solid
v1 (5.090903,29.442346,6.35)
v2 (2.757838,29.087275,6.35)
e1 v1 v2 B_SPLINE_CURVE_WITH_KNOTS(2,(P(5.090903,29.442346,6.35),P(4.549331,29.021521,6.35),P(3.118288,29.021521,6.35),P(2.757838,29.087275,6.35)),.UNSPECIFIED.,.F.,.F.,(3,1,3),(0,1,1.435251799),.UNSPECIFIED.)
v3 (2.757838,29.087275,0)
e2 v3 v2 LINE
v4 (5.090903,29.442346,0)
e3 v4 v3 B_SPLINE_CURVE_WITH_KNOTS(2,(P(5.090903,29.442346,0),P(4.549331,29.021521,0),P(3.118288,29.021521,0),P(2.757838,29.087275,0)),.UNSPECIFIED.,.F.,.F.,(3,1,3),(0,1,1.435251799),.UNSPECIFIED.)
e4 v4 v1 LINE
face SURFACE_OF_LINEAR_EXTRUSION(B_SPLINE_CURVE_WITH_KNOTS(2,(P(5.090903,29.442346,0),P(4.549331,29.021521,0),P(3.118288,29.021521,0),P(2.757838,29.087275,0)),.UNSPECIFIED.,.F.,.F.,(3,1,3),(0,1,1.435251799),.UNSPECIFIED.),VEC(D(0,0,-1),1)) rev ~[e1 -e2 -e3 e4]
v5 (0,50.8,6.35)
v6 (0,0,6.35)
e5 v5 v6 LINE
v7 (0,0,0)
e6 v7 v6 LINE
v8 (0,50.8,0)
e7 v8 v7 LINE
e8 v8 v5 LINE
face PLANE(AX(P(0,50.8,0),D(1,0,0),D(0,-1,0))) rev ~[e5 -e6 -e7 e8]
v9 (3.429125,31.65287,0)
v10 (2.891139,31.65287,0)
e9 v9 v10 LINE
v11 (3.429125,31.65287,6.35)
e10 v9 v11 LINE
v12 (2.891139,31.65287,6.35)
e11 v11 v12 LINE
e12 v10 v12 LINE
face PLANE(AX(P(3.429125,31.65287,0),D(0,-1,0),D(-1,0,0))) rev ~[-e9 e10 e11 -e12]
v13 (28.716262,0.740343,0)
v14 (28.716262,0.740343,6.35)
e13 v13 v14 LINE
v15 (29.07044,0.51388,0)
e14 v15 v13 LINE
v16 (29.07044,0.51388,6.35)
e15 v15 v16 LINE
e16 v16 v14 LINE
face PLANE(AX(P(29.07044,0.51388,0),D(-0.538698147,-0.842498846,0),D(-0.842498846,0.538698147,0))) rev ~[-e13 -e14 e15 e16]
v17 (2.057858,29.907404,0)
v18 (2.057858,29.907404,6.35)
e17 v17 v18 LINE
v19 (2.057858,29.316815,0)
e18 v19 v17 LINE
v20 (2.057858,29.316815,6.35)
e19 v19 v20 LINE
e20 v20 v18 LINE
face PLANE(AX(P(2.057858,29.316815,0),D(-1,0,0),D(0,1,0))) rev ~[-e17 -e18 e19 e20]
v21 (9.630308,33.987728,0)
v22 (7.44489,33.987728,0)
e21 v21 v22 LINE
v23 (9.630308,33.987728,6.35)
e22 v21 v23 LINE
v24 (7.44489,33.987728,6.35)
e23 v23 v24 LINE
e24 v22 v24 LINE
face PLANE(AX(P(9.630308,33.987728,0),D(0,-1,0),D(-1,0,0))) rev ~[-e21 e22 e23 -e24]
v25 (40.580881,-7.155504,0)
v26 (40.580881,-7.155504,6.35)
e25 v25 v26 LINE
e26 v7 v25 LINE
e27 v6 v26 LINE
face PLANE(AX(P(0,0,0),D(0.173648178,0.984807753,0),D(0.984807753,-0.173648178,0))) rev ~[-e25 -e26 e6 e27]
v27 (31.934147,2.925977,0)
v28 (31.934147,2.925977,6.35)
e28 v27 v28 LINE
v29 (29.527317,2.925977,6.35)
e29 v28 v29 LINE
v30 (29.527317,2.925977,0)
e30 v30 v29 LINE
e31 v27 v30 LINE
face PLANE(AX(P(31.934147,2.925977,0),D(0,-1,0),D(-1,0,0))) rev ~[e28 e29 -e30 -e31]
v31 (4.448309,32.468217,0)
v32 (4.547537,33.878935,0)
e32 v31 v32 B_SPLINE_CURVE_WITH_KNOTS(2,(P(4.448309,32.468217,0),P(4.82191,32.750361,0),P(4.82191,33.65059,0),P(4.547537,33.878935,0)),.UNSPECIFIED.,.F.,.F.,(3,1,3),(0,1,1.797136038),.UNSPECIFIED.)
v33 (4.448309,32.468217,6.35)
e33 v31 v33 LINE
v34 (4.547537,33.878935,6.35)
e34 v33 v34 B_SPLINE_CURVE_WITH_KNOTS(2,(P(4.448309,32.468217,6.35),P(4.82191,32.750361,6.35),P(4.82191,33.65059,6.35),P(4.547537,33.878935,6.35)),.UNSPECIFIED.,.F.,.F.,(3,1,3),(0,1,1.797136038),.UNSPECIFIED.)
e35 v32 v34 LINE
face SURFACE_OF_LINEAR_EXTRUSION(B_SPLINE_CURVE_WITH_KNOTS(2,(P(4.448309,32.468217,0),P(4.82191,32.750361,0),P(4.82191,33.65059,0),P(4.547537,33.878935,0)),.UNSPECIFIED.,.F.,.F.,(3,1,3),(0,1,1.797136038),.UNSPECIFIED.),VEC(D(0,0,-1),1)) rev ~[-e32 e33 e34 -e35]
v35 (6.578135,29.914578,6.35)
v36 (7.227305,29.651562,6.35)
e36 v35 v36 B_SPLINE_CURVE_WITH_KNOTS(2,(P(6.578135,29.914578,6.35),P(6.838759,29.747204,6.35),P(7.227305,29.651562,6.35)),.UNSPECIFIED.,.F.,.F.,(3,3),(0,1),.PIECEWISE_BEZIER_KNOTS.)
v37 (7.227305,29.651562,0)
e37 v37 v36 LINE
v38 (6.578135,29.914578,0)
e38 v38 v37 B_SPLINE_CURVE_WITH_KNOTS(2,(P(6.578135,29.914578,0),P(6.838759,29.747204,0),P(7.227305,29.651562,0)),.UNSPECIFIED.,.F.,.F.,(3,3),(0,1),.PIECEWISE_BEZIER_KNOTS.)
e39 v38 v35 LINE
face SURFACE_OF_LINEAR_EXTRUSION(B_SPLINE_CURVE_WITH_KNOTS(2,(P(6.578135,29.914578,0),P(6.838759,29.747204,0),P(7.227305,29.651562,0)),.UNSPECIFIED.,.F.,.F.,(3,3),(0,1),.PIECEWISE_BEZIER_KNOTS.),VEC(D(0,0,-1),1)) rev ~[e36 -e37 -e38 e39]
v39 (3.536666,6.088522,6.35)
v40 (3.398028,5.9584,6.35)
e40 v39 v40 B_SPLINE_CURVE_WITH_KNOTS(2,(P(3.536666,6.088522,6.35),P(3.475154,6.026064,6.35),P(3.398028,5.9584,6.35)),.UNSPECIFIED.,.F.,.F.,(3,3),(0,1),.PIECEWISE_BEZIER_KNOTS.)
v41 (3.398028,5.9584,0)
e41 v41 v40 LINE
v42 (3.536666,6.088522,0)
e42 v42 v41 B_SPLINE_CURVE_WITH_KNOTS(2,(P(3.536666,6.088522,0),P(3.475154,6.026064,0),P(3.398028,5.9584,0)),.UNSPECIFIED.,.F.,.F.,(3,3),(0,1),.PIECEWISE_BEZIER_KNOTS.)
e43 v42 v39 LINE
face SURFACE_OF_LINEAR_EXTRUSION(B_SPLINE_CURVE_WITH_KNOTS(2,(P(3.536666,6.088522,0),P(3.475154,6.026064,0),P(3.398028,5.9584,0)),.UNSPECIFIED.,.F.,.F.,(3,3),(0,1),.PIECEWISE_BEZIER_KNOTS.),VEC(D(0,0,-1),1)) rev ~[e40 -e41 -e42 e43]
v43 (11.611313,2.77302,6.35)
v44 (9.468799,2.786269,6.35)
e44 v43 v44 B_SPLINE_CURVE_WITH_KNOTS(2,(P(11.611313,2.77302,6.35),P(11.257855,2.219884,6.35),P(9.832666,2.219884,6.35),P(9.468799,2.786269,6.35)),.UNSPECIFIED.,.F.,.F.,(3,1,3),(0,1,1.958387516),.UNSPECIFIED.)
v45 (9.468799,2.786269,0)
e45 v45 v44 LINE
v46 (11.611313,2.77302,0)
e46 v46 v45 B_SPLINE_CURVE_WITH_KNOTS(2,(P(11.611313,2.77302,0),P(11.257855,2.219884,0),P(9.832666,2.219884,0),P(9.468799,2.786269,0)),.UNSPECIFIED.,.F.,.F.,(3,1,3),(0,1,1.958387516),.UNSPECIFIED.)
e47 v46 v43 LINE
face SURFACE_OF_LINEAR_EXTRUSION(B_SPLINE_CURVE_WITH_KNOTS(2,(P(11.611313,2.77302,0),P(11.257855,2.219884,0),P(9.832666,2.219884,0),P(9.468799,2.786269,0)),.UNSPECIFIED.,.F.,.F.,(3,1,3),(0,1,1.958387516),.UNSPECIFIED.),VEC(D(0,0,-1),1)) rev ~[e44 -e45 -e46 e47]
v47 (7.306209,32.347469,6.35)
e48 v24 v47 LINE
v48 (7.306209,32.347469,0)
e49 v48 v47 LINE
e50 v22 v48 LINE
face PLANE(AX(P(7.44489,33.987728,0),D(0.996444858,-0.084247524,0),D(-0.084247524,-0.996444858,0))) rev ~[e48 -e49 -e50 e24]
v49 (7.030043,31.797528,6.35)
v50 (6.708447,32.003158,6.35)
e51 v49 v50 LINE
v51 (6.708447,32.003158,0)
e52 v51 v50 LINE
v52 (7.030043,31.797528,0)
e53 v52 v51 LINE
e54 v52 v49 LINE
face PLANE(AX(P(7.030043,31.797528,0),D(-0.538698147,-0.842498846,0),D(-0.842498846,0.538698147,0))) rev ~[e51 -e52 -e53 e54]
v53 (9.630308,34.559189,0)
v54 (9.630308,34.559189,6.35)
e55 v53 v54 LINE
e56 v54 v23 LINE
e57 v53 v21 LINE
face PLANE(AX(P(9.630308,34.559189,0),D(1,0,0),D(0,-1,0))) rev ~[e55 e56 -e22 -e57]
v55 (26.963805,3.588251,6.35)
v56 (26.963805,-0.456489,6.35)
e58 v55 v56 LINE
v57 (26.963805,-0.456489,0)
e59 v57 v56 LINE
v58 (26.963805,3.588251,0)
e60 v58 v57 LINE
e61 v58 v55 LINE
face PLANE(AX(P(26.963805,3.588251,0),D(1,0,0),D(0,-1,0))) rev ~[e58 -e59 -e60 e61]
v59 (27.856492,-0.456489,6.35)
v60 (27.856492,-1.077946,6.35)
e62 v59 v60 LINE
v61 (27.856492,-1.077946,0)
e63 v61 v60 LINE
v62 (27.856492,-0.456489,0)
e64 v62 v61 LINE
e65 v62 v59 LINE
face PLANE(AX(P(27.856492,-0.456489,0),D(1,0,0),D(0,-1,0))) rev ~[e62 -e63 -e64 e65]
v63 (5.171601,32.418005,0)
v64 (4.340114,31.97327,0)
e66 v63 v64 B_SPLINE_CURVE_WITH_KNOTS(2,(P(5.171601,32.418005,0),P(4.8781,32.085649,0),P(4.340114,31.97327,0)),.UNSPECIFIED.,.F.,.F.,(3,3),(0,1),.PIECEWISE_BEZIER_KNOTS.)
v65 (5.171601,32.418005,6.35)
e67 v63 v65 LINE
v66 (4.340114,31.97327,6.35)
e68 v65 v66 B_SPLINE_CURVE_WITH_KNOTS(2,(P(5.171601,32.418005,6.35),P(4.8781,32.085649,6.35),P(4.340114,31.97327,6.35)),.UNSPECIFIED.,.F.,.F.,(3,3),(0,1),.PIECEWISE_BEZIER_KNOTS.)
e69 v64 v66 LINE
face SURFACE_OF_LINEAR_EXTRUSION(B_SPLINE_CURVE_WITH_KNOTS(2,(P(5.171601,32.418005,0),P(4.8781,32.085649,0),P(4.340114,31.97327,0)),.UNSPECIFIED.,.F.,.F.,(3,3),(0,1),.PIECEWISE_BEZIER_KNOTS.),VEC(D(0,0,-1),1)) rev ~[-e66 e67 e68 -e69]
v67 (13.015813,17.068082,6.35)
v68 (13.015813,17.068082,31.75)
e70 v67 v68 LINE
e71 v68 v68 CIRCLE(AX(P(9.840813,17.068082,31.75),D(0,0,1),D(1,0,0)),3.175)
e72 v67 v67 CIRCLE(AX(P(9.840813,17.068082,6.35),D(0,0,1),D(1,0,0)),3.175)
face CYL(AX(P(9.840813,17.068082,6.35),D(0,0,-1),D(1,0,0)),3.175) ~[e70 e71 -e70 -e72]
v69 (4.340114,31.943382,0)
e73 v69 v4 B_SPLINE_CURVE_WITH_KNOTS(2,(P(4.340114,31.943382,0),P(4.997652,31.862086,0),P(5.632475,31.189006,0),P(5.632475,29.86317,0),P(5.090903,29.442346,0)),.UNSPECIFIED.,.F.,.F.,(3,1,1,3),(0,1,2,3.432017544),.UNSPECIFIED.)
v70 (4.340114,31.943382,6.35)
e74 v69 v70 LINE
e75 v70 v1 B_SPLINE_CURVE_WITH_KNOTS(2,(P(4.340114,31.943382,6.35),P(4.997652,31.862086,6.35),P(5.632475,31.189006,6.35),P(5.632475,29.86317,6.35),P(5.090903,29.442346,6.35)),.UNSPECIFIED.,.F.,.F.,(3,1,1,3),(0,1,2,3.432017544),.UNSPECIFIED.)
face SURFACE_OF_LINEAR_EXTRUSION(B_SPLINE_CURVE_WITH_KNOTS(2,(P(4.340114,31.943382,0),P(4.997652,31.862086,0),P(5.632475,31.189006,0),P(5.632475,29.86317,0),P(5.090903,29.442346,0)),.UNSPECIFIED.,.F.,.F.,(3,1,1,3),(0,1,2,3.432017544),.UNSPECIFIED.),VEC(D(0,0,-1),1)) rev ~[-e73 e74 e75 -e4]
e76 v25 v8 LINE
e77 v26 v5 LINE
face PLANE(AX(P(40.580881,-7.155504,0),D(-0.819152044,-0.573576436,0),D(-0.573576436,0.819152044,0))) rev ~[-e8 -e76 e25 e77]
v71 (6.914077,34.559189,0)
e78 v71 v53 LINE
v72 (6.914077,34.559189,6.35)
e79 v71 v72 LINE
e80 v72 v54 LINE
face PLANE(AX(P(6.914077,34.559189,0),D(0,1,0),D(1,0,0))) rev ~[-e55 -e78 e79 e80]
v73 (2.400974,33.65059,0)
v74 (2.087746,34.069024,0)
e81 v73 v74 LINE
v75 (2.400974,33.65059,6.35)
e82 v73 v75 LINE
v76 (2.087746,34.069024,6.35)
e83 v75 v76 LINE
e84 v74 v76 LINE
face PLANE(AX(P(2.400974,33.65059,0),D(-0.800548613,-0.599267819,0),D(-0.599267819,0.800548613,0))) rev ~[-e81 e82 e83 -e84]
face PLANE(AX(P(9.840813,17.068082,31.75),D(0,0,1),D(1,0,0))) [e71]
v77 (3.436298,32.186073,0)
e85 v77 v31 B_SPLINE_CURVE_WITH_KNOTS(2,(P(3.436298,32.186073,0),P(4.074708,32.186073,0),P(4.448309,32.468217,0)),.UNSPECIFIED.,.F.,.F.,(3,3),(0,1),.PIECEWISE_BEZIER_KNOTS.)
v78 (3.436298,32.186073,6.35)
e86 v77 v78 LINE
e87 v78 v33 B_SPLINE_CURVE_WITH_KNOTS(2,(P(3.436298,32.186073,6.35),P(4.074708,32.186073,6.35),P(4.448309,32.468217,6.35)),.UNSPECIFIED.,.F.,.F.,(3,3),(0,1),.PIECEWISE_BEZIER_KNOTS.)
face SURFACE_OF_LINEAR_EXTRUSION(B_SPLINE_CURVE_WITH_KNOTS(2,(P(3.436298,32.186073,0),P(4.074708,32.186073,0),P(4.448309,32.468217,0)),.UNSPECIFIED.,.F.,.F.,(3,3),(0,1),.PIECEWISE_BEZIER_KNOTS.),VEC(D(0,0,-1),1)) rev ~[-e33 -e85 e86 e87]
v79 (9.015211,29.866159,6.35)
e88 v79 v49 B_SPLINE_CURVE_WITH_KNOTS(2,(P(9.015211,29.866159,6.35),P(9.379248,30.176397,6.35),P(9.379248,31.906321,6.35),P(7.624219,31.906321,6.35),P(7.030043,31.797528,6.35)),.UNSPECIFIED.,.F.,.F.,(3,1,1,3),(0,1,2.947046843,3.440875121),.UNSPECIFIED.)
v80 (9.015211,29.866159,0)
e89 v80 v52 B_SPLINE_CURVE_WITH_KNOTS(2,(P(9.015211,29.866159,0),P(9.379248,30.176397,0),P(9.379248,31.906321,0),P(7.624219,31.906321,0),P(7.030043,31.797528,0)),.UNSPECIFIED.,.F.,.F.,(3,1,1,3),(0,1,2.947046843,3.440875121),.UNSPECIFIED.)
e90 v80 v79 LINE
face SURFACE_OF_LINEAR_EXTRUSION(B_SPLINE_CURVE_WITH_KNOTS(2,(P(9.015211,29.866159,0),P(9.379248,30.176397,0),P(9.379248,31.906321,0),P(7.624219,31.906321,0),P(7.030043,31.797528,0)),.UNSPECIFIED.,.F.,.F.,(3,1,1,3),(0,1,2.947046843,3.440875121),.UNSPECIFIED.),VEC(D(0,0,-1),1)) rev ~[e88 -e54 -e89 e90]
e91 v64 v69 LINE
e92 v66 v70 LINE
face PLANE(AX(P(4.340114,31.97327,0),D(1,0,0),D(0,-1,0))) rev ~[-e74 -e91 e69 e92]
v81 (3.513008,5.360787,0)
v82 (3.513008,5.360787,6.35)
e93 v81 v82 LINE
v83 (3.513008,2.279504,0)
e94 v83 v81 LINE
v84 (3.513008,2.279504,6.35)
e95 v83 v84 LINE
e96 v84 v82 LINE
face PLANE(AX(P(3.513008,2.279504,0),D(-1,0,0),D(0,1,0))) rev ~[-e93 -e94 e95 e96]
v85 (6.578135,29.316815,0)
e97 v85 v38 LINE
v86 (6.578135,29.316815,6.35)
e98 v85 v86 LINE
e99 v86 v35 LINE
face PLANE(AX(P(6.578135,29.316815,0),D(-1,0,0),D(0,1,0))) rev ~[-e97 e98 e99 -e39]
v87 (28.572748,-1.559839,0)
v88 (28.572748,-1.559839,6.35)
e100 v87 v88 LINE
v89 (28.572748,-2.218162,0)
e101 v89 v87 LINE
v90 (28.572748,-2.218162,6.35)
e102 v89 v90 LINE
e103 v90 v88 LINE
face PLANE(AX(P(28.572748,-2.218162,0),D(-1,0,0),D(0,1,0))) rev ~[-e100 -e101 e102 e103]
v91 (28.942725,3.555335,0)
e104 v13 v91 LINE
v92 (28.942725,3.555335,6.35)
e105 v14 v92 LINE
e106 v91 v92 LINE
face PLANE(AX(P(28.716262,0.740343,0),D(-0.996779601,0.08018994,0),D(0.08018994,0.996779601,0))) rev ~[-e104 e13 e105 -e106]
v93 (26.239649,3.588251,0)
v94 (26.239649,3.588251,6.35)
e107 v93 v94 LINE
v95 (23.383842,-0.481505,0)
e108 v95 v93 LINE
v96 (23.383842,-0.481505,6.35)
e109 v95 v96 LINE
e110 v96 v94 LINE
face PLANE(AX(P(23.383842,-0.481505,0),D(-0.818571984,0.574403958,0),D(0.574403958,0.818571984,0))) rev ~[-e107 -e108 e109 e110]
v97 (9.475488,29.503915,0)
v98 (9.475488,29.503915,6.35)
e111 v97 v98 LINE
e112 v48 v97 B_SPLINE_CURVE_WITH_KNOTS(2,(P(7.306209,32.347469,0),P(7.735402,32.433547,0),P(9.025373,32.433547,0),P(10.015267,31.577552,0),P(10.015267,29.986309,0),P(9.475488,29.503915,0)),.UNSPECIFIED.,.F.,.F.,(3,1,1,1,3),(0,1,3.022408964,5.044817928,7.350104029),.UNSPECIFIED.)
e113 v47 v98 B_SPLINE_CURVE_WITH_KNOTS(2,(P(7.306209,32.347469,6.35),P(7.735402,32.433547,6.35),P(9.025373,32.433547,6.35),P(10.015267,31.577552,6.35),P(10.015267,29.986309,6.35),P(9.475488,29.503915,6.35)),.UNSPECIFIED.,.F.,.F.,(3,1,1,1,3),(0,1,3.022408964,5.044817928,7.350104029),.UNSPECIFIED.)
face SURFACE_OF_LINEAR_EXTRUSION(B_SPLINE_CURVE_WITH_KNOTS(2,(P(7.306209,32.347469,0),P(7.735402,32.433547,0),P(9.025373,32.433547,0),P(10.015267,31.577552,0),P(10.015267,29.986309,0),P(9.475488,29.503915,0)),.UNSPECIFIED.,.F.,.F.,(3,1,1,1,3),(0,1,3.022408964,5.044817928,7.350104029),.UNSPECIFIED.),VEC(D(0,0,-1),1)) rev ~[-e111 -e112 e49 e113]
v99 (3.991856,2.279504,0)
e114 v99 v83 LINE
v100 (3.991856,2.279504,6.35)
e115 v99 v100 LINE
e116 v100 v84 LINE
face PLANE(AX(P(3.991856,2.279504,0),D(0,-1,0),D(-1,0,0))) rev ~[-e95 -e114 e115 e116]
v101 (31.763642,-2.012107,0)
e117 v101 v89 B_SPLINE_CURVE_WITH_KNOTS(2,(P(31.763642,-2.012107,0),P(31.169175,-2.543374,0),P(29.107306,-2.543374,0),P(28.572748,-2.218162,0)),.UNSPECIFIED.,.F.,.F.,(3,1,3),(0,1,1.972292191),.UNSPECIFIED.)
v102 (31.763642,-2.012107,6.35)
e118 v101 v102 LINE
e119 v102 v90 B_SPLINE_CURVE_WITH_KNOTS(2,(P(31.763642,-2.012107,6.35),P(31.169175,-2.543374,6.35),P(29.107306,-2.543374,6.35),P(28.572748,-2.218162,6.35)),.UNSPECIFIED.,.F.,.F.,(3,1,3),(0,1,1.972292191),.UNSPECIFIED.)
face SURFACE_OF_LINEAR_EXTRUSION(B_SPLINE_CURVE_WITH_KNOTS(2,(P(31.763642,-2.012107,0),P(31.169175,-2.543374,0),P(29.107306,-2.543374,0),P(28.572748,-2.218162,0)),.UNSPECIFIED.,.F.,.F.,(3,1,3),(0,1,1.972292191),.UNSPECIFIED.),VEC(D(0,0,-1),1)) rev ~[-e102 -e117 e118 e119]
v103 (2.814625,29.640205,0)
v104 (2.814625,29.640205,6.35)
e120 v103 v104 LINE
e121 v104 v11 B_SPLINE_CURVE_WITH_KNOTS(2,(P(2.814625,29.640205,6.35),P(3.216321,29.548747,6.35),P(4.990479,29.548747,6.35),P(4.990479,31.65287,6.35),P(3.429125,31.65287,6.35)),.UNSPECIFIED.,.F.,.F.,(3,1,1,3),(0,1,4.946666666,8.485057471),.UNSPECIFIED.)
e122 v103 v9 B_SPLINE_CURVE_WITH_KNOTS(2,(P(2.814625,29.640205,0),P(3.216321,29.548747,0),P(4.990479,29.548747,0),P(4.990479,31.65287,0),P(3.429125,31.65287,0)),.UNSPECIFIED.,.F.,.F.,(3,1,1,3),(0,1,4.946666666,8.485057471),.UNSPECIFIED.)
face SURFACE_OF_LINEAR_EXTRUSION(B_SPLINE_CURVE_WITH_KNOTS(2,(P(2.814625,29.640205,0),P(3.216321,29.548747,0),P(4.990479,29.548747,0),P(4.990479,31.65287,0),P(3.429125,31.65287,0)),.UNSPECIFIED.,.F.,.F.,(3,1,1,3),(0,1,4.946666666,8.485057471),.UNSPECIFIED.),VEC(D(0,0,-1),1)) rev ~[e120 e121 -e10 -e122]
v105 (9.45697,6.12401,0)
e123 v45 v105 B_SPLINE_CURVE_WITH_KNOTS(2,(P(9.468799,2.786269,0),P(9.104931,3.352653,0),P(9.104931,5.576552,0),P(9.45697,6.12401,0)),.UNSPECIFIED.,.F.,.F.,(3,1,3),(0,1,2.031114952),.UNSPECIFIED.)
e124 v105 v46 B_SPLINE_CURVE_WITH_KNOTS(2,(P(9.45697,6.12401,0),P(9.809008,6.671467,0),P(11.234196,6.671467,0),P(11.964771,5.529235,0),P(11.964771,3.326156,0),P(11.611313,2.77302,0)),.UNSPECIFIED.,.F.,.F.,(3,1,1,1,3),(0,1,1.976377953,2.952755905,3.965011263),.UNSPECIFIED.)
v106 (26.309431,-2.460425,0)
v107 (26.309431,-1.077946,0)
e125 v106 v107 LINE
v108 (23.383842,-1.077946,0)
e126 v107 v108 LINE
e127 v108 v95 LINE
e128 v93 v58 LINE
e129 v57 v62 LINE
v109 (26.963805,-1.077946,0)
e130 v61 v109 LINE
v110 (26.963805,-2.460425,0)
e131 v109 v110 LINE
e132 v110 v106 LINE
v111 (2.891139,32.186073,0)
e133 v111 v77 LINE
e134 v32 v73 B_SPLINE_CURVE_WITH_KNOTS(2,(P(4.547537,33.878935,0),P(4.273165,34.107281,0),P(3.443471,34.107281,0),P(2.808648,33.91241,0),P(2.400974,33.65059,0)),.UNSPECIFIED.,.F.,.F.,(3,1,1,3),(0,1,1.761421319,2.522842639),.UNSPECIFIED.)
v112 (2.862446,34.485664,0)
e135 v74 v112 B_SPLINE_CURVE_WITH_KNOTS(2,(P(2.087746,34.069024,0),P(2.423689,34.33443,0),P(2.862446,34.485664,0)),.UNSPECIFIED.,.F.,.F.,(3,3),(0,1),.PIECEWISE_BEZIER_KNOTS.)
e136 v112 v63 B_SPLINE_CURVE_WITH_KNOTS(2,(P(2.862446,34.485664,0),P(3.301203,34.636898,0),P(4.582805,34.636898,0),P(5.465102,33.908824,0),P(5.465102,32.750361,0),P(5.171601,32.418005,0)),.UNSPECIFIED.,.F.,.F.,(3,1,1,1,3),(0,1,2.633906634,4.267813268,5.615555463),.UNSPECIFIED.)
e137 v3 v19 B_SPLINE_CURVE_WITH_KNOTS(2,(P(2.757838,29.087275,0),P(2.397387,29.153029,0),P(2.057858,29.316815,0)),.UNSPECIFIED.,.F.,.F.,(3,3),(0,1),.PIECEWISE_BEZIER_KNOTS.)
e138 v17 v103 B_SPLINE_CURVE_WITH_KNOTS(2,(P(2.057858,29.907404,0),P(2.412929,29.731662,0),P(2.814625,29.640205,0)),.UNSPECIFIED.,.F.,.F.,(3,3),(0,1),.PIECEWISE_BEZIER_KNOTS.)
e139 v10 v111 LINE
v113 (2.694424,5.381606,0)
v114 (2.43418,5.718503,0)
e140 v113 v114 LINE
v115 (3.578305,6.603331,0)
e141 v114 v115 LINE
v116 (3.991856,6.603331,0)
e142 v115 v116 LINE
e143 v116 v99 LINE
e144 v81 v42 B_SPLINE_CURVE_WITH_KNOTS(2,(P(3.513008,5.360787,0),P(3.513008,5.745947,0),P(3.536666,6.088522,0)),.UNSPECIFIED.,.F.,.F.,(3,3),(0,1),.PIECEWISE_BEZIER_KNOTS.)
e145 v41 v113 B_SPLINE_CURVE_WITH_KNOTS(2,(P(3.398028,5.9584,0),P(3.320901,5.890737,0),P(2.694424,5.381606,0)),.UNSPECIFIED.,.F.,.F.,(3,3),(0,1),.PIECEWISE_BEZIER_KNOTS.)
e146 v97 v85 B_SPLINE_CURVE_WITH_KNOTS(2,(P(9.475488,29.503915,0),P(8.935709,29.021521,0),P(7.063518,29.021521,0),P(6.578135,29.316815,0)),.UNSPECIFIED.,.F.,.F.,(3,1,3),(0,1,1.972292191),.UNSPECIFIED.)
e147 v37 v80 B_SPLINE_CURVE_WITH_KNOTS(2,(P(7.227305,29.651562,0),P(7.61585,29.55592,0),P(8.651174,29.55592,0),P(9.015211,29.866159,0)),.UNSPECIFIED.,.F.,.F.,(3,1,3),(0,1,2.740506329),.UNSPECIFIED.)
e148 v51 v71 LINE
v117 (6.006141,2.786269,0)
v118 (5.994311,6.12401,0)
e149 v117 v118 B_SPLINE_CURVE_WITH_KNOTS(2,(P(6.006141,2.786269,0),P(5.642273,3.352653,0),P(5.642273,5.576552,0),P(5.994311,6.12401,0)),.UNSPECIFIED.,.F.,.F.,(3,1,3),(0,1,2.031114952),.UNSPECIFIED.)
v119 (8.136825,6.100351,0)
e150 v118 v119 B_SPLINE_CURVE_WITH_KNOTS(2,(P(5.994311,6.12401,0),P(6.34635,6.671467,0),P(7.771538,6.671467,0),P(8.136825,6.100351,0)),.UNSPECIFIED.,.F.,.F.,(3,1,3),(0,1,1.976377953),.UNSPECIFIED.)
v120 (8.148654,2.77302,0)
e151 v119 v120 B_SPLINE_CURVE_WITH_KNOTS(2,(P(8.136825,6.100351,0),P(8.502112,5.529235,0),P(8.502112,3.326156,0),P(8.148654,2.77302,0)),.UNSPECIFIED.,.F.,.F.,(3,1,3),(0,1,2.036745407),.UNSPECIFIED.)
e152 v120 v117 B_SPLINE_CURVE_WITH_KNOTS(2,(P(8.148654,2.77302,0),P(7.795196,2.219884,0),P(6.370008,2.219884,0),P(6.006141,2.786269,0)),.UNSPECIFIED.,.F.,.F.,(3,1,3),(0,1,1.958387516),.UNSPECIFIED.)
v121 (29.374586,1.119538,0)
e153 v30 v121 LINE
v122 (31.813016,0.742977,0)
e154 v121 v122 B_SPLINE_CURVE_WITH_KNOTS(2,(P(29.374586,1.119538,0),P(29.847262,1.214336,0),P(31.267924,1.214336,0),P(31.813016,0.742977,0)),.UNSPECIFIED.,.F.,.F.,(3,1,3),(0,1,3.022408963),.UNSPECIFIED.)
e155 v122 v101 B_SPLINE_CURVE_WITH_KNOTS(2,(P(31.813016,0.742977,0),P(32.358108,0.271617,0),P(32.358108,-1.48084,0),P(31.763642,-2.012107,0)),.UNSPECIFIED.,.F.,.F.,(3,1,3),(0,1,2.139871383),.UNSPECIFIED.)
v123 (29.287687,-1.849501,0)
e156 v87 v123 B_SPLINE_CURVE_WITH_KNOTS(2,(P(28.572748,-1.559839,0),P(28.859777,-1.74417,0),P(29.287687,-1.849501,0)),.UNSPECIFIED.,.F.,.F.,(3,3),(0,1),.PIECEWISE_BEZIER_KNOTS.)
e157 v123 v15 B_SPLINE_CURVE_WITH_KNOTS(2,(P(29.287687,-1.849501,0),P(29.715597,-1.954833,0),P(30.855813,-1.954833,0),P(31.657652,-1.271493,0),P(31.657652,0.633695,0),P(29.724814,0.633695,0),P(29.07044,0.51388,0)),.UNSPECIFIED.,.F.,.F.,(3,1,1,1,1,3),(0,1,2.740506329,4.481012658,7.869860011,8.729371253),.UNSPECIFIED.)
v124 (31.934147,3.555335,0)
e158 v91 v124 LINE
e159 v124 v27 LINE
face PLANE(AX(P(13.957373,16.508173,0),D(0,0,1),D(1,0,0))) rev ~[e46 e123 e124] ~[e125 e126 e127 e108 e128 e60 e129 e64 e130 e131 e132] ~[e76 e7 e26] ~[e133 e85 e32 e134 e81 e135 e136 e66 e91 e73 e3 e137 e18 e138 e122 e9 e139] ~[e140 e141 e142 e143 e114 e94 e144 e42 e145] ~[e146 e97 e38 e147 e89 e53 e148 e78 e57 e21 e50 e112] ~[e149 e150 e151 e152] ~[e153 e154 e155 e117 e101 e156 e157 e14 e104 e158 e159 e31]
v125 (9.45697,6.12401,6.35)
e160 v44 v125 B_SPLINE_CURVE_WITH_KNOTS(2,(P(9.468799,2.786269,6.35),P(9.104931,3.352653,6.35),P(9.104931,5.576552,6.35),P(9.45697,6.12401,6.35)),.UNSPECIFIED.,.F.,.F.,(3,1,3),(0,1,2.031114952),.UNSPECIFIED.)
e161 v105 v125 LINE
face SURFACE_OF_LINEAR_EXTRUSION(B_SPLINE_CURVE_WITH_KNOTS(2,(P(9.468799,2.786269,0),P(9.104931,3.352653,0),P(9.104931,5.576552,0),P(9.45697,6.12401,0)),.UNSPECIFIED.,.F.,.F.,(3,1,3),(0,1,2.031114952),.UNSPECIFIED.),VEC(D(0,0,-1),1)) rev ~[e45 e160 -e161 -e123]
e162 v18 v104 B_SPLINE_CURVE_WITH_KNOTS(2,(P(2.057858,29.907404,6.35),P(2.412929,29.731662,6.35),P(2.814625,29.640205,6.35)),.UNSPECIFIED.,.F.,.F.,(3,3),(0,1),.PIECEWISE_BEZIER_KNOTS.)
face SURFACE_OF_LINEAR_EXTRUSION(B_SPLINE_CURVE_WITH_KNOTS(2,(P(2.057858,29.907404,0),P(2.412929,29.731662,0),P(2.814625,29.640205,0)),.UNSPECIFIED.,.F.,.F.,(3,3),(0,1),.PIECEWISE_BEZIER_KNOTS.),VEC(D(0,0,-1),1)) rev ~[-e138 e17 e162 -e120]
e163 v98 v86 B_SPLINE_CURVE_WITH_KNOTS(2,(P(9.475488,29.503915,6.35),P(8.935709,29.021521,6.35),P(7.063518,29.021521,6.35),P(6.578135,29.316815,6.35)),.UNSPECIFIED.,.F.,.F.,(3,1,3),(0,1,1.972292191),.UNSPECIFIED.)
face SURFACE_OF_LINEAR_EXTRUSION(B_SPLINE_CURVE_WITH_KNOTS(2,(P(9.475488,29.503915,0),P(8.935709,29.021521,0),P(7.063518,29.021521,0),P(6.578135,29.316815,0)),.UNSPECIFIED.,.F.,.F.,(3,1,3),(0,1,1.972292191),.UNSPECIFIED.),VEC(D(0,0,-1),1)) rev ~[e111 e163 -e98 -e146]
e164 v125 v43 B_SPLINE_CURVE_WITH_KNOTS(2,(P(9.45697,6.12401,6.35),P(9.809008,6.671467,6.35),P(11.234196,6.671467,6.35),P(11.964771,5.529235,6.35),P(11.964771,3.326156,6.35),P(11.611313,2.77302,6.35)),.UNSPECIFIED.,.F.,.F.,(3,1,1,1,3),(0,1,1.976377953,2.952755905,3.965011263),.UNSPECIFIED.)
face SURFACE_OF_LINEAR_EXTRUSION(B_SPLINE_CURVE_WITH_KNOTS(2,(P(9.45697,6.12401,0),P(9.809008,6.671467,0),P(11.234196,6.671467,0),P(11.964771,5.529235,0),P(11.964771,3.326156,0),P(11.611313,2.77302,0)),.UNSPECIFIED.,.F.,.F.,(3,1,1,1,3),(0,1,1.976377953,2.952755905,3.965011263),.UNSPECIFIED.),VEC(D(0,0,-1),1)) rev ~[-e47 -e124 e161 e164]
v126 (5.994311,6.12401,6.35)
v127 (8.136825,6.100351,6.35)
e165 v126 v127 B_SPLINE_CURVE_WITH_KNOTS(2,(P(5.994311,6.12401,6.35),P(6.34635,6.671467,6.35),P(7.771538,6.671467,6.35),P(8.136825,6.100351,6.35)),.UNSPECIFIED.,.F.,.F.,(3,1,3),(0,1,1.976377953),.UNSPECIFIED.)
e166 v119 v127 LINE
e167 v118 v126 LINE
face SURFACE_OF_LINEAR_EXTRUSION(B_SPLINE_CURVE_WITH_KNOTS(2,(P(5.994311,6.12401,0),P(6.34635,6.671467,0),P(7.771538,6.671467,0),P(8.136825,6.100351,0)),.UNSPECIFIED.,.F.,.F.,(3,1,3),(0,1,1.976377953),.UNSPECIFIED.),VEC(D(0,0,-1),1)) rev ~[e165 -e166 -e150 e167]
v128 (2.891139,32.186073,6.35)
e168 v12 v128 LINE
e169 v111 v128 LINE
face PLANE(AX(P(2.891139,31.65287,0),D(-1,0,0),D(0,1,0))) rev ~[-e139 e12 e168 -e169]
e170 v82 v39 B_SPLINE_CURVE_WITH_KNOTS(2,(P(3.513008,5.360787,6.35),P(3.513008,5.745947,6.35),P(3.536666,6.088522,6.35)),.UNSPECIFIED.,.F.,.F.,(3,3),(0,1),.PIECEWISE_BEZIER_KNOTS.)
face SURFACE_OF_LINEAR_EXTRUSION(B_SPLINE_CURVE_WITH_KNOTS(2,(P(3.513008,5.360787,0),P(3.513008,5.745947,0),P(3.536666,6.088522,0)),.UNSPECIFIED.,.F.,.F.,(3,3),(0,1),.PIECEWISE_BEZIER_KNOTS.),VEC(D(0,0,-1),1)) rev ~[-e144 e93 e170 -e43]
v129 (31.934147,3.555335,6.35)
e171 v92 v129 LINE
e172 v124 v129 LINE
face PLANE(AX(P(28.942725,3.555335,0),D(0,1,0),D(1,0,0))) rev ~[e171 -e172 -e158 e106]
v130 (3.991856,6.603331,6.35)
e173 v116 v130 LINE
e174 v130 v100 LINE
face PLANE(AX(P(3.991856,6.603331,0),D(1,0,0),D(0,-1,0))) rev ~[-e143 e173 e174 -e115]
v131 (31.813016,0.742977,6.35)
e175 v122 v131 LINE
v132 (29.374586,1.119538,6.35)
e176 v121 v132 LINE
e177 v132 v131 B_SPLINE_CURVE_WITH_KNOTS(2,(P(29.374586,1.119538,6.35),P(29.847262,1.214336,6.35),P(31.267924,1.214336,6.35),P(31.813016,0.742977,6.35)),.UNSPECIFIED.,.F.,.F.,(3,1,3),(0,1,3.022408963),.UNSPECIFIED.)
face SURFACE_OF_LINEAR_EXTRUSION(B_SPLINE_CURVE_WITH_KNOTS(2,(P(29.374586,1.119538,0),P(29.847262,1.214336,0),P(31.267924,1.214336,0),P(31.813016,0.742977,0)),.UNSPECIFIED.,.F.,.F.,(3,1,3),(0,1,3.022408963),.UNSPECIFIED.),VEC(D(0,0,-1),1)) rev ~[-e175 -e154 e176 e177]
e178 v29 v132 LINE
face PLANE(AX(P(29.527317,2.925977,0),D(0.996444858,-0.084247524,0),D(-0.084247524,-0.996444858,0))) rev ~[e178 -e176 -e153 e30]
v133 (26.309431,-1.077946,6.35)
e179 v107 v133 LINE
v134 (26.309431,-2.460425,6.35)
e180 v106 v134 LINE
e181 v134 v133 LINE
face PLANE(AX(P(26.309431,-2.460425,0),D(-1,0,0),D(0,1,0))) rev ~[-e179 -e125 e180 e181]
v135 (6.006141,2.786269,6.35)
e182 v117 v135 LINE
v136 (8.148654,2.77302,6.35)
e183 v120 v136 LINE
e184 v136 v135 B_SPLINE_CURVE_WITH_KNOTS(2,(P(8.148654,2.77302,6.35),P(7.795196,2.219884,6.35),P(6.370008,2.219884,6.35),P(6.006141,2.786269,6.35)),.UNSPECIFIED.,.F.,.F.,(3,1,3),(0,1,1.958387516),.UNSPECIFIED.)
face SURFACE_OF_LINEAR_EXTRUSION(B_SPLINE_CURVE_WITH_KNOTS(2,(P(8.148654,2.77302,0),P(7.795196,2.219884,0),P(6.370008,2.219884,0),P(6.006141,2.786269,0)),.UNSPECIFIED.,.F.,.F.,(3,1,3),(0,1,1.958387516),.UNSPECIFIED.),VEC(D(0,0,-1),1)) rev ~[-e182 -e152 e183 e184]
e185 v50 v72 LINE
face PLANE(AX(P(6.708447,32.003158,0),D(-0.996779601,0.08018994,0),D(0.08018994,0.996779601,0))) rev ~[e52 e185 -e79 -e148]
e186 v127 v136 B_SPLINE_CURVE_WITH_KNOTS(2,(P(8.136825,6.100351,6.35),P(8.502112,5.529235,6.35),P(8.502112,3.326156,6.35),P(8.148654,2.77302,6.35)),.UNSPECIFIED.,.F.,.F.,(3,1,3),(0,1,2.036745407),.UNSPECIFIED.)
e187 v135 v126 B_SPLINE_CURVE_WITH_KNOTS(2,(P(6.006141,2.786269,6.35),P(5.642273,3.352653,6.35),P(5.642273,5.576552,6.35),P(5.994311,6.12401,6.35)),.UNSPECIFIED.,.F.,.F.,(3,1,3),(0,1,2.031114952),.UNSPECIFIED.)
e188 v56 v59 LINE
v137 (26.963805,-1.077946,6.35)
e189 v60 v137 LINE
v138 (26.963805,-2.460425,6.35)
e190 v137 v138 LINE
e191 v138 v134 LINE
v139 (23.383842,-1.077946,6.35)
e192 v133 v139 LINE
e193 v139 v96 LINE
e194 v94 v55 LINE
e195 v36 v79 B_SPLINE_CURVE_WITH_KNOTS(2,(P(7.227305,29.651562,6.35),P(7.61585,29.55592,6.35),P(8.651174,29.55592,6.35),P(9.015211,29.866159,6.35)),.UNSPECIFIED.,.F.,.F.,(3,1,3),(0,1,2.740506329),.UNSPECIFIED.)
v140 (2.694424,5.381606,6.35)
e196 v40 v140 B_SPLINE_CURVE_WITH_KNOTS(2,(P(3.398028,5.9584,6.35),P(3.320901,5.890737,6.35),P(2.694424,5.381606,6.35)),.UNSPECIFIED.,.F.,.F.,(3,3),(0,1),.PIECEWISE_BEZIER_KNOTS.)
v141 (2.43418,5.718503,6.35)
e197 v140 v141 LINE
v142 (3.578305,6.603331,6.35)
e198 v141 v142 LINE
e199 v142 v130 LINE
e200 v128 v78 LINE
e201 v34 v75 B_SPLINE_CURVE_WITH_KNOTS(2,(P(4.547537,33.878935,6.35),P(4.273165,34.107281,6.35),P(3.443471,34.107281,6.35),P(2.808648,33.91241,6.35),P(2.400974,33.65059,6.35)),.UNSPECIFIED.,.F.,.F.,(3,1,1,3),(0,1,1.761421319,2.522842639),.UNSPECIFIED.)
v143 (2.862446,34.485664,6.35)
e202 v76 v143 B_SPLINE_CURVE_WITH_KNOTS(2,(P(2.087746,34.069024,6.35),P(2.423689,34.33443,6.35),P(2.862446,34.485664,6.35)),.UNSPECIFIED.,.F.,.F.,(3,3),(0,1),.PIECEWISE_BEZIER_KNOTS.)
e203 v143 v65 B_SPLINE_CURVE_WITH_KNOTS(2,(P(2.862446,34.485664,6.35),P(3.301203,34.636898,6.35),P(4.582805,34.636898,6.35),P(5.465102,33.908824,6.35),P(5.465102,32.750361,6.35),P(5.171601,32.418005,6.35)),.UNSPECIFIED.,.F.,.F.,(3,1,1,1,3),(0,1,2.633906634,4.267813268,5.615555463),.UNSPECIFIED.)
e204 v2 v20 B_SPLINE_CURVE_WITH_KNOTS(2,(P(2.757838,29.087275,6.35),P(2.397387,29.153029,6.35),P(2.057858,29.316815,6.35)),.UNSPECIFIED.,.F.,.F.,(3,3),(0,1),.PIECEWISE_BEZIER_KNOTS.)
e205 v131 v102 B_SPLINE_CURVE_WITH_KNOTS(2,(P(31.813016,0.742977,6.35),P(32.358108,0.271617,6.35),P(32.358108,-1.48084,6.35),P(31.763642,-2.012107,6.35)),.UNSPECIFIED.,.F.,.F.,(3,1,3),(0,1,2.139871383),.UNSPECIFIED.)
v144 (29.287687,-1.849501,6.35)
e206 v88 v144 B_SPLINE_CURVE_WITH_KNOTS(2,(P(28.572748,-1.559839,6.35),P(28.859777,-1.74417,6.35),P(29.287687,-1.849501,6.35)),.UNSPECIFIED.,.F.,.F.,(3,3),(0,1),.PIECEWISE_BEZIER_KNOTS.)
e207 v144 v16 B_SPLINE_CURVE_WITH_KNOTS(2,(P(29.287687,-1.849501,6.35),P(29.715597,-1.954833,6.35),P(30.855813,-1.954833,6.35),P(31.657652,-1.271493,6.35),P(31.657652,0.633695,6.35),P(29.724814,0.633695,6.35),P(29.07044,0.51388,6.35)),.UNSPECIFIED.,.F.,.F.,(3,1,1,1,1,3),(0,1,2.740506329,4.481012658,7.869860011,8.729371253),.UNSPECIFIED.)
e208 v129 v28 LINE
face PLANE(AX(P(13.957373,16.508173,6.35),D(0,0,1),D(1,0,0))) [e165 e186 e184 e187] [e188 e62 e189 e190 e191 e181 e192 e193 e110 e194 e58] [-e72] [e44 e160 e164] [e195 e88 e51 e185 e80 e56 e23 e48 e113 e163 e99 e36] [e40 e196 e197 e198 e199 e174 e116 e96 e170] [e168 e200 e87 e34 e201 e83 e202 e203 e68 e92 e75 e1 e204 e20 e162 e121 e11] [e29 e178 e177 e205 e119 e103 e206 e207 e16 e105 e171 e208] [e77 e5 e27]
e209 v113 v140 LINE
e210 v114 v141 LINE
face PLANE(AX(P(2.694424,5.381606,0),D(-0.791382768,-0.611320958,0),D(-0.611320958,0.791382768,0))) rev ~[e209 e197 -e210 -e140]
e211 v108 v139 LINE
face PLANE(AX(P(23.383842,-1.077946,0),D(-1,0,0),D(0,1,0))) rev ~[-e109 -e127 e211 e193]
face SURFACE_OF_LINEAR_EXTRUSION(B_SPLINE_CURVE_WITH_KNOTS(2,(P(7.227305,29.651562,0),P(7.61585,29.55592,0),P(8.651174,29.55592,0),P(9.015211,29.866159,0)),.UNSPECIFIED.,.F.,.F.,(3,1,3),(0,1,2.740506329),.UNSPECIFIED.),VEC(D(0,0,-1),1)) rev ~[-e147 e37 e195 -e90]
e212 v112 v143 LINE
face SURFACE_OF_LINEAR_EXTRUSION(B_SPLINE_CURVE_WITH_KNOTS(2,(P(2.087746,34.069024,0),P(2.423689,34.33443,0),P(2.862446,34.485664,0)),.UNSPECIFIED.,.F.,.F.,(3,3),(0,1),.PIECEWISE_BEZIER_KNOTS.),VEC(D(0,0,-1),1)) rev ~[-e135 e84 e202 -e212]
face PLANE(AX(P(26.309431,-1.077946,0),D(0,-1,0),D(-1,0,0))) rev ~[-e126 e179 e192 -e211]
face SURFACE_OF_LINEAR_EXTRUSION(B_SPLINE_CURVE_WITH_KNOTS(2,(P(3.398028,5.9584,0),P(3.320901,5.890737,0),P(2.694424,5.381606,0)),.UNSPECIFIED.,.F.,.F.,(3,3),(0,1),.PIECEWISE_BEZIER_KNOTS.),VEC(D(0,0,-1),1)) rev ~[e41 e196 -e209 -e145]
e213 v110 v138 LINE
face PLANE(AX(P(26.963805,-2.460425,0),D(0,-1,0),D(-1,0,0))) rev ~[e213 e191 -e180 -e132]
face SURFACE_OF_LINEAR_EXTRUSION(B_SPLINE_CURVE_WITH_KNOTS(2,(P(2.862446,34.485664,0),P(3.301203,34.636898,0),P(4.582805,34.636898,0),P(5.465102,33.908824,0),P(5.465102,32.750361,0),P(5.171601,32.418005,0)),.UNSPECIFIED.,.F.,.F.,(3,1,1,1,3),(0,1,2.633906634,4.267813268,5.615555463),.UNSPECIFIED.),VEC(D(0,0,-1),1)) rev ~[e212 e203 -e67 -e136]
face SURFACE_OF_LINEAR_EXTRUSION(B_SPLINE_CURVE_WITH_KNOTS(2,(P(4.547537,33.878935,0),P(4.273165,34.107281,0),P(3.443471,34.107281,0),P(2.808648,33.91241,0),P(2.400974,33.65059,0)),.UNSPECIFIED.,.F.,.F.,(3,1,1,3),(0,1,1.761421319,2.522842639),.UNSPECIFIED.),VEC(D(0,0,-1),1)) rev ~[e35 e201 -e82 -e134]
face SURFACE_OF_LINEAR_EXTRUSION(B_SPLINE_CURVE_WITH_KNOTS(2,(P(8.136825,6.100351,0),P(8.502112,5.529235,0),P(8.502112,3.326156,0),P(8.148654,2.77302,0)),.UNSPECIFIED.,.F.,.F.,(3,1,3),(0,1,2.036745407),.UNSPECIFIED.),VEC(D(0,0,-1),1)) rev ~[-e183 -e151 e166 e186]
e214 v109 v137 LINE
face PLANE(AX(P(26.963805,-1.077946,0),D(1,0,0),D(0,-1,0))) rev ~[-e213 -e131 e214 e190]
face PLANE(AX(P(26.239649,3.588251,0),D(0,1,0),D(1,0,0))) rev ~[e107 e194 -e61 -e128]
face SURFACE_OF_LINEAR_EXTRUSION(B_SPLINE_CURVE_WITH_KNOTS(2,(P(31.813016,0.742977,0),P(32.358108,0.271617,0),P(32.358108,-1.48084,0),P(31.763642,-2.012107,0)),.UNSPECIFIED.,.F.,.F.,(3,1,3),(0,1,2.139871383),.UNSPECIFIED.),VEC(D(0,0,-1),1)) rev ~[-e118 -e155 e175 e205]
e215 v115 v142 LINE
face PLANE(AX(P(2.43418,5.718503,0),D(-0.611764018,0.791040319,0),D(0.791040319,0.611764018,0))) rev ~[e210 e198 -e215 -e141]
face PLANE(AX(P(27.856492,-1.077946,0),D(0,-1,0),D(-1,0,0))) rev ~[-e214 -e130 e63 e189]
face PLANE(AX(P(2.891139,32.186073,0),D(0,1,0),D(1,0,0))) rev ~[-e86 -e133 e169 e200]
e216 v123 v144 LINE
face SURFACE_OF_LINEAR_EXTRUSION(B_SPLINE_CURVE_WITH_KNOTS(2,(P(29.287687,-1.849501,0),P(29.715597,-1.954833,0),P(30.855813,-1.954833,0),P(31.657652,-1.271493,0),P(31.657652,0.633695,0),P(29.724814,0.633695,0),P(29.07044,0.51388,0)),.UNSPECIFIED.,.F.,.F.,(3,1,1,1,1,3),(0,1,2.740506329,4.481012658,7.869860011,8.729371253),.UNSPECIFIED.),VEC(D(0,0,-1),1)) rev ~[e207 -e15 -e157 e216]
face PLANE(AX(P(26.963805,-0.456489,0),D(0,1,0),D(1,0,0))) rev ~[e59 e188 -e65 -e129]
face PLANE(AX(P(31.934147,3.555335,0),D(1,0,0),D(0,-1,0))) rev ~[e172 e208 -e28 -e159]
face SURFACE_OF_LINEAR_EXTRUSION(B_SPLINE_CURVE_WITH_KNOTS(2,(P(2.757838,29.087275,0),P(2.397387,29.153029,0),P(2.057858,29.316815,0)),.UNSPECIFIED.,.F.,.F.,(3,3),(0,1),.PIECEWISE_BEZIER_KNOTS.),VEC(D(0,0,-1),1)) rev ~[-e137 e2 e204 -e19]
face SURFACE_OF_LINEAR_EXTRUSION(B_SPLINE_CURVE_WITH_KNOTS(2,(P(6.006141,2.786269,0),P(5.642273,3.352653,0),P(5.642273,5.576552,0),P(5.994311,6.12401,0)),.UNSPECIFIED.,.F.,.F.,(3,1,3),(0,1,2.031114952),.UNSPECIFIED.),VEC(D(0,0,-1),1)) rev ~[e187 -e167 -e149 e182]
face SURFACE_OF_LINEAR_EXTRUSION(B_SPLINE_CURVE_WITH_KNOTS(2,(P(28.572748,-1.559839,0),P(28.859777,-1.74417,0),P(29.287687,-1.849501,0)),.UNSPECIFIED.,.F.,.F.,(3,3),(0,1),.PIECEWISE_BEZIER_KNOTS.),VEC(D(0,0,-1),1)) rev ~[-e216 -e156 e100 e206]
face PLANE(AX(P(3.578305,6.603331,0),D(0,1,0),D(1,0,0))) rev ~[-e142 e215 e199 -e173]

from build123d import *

# Parameters (mm, degrees)
F1_DEPTH = 6.35
F2_R     = 3.175
F3_DEPTH = 25.4


with BuildPart() as f1:
    # F0 (on Top) → F1 (new body)
    with BuildSketch(Plane.XY):
        Polygon((0, 50.8), (0, 0), (40.5808809275, -7.1555042084), align=None)
        with BuildLine():
            Line((3.9918560175, 6.6033309618), (3.9918560175, 2.2795035038))
            Line((3.9918560175, 2.2795035038), (3.5130079777, 2.2795035038))
            Line((3.5130079777, 2.2795035038), (3.5130079777, 5.3607865423))
            add(Edge.make_bspline(
                [(3.5130079777, 5.3607865423), (3.5130079777, 5.7459469222), (3.5366664777, 6.088522002)],
                knots=[0, 0, 0, 1, 1, 1], degree=2))
            add(Edge.make_bspline(
                [(3.5366664777, 6.088522002), (3.4751543778, 6.026063562), (3.3980276678, 5.9584002521)],
                knots=[0, 0, 0, 1, 1, 1], degree=2))
            add(Edge.make_bspline(
                [(3.3980276678, 5.9584002521), (3.3209009578, 5.8907369421), (2.6944238781, 5.3816060223)],
                knots=[0, 0, 0, 1, 1, 1], degree=2))
            Line((2.6944238781, 5.3816060223), (2.4341803783, 5.7185030622))
            Line((2.4341803783, 5.7185030622), (3.5783054377, 6.6033309618))
            Line((3.5783054377, 6.6033309618), (3.9918560175, 6.6033309618))
        make_face(mode=Mode.SUBTRACT)
        with BuildLine():
            add(Edge.make_bspline(
                [(8.1368252155, 6.100351252), (8.5021124554, 5.5292350623), (8.5021124554, 4.4475684428)],
                knots=[0, 0, 0, 1, 1, 1], degree=2))
            add(Edge.make_bspline(
                [(8.5021124554, 4.4475684428), (8.5021124554, 3.3261555433), (8.1486544655, 2.7730198136)],
                knots=[0, 0, 0, 1, 1, 1], degree=2))
            add(Edge.make_bspline(
                [(8.1486544655, 2.7730198136), (7.7951964757, 2.2198840838), (7.067461016, 2.2198840838)],
                knots=[0, 0, 0, 1, 1, 1], degree=2))
            add(Edge.make_bspline(
                [(7.067461016, 2.2198840838), (6.3700084364, 2.2198840838), (6.0061407066, 2.7862685736)],
                knots=[0, 0, 0, 1, 1, 1], degree=2))
            add(Edge.make_bspline(
                [(6.0061407066, 2.7862685736), (5.6422729767, 3.3526530633), (5.6422729767, 4.4475684428)],
                knots=[0, 0, 0, 1, 1, 1], degree=2))
            add(Edge.make_bspline(
                [(5.6422729767, 4.4475684428), (5.6422729767, 5.5765520622), (5.9943114566, 6.124009752)],
                knots=[0, 0, 0, 1, 1, 1], degree=2))
            add(Edge.make_bspline(
                [(5.9943114566, 6.124009752), (6.3463499364, 6.6714674417), (7.067461016, 6.6714674417)],
                knots=[0, 0, 0, 1, 1, 1], degree=2))
            add(Edge.make_bspline(
                [(7.067461016, 6.6714674417), (7.7715379757, 6.6714674417), (8.1368252155, 6.100351252)],
                knots=[0, 0, 0, 1, 1, 1], degree=2))
        make_face(mode=Mode.SUBTRACT)
        with BuildLine():
            add(Edge.make_bspline(
                [(11.5994832739, 6.100351252), (11.9647705137, 5.5292350623), (11.9647705137, 4.4475684428)],
                knots=[0, 0, 0, 1, 1, 1], degree=2))
            add(Edge.make_bspline(
                [(11.9647705137, 4.4475684428), (11.9647705137, 3.3261555433), (11.6113125239, 2.7730198136)],
                knots=[0, 0, 0, 1, 1, 1], degree=2))
            add(Edge.make_bspline(
                [(11.6113125239, 2.7730198136), (11.2578545341, 2.2198840838), (10.5301190744, 2.2198840838)],
                knots=[0, 0, 0, 1, 1, 1], degree=2))
            add(Edge.make_bspline(
                [(10.5301190744, 2.2198840838), (9.8326664947, 2.2198840838), (9.4687987649, 2.7862685736)],
                knots=[0, 0, 0, 1, 1, 1], degree=2))
            add(Edge.make_bspline(
                [(9.4687987649, 2.7862685736), (9.1049310351, 3.3526530633), (9.1049310351, 4.4475684428)],
                knots=[0, 0, 0, 1, 1, 1], degree=2))
            add(Edge.make_bspline(
                [(9.1049310351, 4.4475684428), (9.1049310351, 5.5765520622), (9.4569695149, 6.124009752)],
                knots=[0, 0, 0, 1, 1, 1], degree=2))
            add(Edge.make_bspline(
                [(9.4569695149, 6.124009752), (9.8090079947, 6.6714674417), (10.5301190744, 6.6714674417)],
                knots=[0, 0, 0, 1, 1, 1], degree=2))
            add(Edge.make_bspline(
                [(10.5301190744, 6.6714674417), (11.2341960341, 6.6714674417), (11.5994832739, 6.100351252)],
                knots=[0, 0, 0, 1, 1, 1], degree=2))
        make_face(mode=Mode.SUBTRACT)
        Polygon((27.8564916644, -0.4564887798), (27.8564916644, -1.0779461554), (26.9638050104, -1.0779461554), (26.9638050104, -2.4604254868), (26.3094314602, -2.4604254868), (26.3094314602, -1.0779461554), (23.3838418656, -1.0779461554), (23.3838418656, -0.4815050725), (26.2396491701, 3.5882507497), (26.9638050104, 3.5882507497), (26.9638050104, -0.4564887798), align=None, mode=Mode.SUBTRACT)
        with BuildLine():
            add(Edge.make_bspline(
                [(29.3745856349, 1.119537658), (29.8472619015, 1.2143362407), (30.3173048742, 1.2143362407)],
                knots=[0, 0, 0, 1, 1, 1], degree=2))
            add(Edge.make_bspline(
                [(30.3173048742, 1.2143362407), (31.2679239954, 1.2143362407), (31.813015846, 0.742976621)],
                knots=[0, 0, 0, 1, 1, 1], degree=2))
            add(Edge.make_bspline(
                [(31.813015846, 0.742976621), (32.3581076967, 0.2716170014), (32.3581076967, -0.5473374216)],
                knots=[0, 0, 0, 1, 1, 1], degree=2))
            add(Edge.make_bspline(
                [(32.3581076967, -0.5473374216), (32.3581076967, -1.480840132), (31.7636415842, -2.0121071893)],
                knots=[0, 0, 0, 1, 1, 1], degree=2))
            add(Edge.make_bspline(
                [(31.7636415842, -2.0121071893), (31.1691754717, -2.5433742467), (30.1237577678, -2.5433742467)],
                knots=[0, 0, 0, 1, 1, 1], degree=2))
            add(Edge.make_bspline(
                [(30.1237577678, -2.5433742467), (29.1073062975, -2.5433742467), (28.5727476227, -2.2181624421)],
                knots=[0, 0, 0, 1, 1, 1], degree=2))
            Line((28.5727476227, -2.2181624421), (28.5727476227, -1.5598389509))
            add(Edge.make_bspline(
                [(28.5727476227, -1.5598389509), (28.8597766648, -1.7441695284), (29.2876869341, -1.849501287)],
                knots=[0, 0, 0, 1, 1, 1], degree=2))
            add(Edge.make_bspline(
                [(29.2876869341, -1.849501287), (29.7155972033, -1.9548330456), (30.1316576497, -1.9548330456)],
                knots=[0, 0, 0, 1, 1, 1], degree=2))
            add(Edge.make_bspline(
                [(30.1316576497, -1.9548330456), (30.8558134899, -1.9548330456), (31.256732496, -1.6131631537)],
                knots=[0, 0, 0, 1, 1, 1], degree=2))
            add(Edge.make_bspline(
                [(31.256732496, -1.6131631537), (31.6576515021, -1.2714932618), (31.6576515021, -0.6250195935)],
                knots=[0, 0, 0, 1, 1, 1], degree=2))
            add(Edge.make_bspline(
                [(31.6576515021, -0.6250195935), (31.6576515021, 0.6336949215), (30.1158578859, 0.6336949215)],
                knots=[0, 0, 0, 1, 1, 1], degree=2))
            add(Edge.make_bspline(
                [(30.1158578859, 0.6336949215), (29.7248137322, 0.6336949215), (29.070440182, 0.5138800461)],
                knots=[0, 0, 0, 1, 1, 1], degree=2))
            Line((29.070440182, 0.5138800461), (28.7162621438, 0.7403433271))
            Line((28.7162621438, 0.7403433271), (28.9427254247, 3.5553345751))
            Line((28.9427254247, 3.5553345751), (31.9341473684, 3.5553345751))
            Line((31.9341473684, 3.5553345751), (31.9341473684, 2.9259773176))
            Line((31.9341473684, 2.9259773176), (29.5273166848, 2.9259773176))
            Line((29.5273166848, 2.9259773176), (29.3745856349, 1.119537658))
        make_face(mode=Mode.SUBTRACT)
        with BuildLine():
            add(Edge.make_bspline(
                [(5.0239537206, 34.2728606786), (5.4651021183, 33.9088235862), (5.4651021183, 33.2740002822)],
                knots=[0, 0, 0, 1, 1, 1], degree=2))
            add(Edge.make_bspline(
                [(5.4651021183, 33.2740002822), (5.4651021183, 32.7503607207), (5.1716009486, 32.4180050173)],
                knots=[0, 0, 0, 1, 1, 1], degree=2))
            add(Edge.make_bspline(
                [(5.1716009486, 32.4180050173), (4.8780997788, 32.0856493139), (4.340113928, 31.9732700473)],
                knots=[0, 0, 0, 1, 1, 1], degree=2))
            Line((4.340113928, 31.9732700473), (4.340113928, 31.9433819444))
            add(Edge.make_bspline(
                [(4.340113928, 31.9433819444), (4.9976521901, 31.8620863047), (5.3150638421, 31.5255462669)],
                knots=[0, 0, 0, 1, 1, 1], degree=2))
            add(Edge.make_bspline(
                [(5.3150638421, 31.5255462669), (5.6324754941, 31.1890062291), (5.6324754941, 30.6438472336)],
                knots=[0, 0, 0, 1, 1, 1], degree=2))
            add(Edge.make_bspline(
                [(5.6324754941, 30.6438472336), (5.6324754941, 29.8631699879), (5.0909030709, 29.4423455001)],
                knots=[0, 0, 0, 1, 1, 1], degree=2))
            add(Edge.make_bspline(
                [(5.0909030709, 29.4423455001), (4.5493306478, 29.0215210123), (3.5522635375, 29.0215210123)],
                knots=[0, 0, 0, 1, 1, 1], degree=2))
            add(Edge.make_bspline(
                [(3.5522635375, 29.0215210123), (3.1182882845, 29.0215210123), (2.7578377645, 29.0872748385)],
                knots=[0, 0, 0, 1, 1, 1], degree=2))
            add(Edge.make_bspline(
                [(2.7578377645, 29.0872748385), (2.3973872444, 29.1530286648), (2.0578583963, 29.3168154682)],
                knots=[0, 0, 0, 1, 1, 1], degree=2))
            Line((2.0578583963, 29.3168154682), (2.0578583963, 29.90740438))
            add(Edge.make_bspline(
                [(2.0578583963, 29.90740438), (2.4129290579, 29.7316623354), (2.8146251598, 29.6402047408)],
                knots=[0, 0, 0, 1, 1, 1], degree=2))
            add(Edge.make_bspline(
                [(2.8146251598, 29.6402047408), (3.2163212618, 29.5487471461), (3.5749784957, 29.5487471461)],
                knots=[0, 0, 0, 1, 1, 1], degree=2))
            add(Edge.make_bspline(
                [(3.5749784957, 29.5487471461), (4.9904790454, 29.5487471461), (4.9904790454, 30.658193523)],
                knots=[0, 0, 0, 1, 1, 1], degree=2))
            add(Edge.make_bspline(
                [(4.9904790454, 30.658193523), (4.9904790454, 31.652869585), (3.4291245539, 31.652869585)],
                knots=[0, 0, 0, 1, 1, 1], degree=2))
            Line((3.4291245539, 31.652869585), (2.8911387031, 31.652869585))
            Line((2.8911387031, 31.652869585), (2.8911387031, 32.1860733394))
            Line((2.8911387031, 32.1860733394), (3.4362976986, 32.1860733394))
            add(Edge.make_bspline(
                [(3.4362976986, 32.1860733394), (4.0747075749, 32.1860733394), (4.4483088602, 32.46821703)],
                knots=[0, 0, 0, 1, 1, 1], degree=2))
            add(Edge.make_bspline(
                [(4.4483088602, 32.46821703), (4.8219101455, 32.7503607207), (4.8219101455, 33.251285324)],
                knots=[0, 0, 0, 1, 1, 1], degree=2))
            add(Edge.make_bspline(
                [(4.8219101455, 33.251285324), (4.8219101455, 33.6505903778), (4.5475373616, 33.8789354833)],
                knots=[0, 0, 0, 1, 1, 1], degree=2))
            add(Edge.make_bspline(
                [(4.5475373616, 33.8789354833), (4.2731645777, 34.1072805889), (3.8021280771, 34.1072805889)],
                knots=[0, 0, 0, 1, 1, 1], degree=2))
            add(Edge.make_bspline(
                [(3.8021280771, 34.1072805889), (3.4434708433, 34.1072805889), (3.1260591913, 34.0098453737)],
                knots=[0, 0, 0, 1, 1, 1], degree=2))
            add(Edge.make_bspline(
                [(3.1260591913, 34.0098453737), (2.8086475393, 33.9124101585), (2.4009738167, 33.6505903778)],
                knots=[0, 0, 0, 1, 1, 1], degree=2))
            Line((2.4009738167, 33.6505903778), (2.0877464991, 34.0690238173))
            add(Edge.make_bspline(
                [(2.0877464991, 34.0690238173), (2.4236887749, 34.3344301704), (2.8624461243, 34.4856639707)],
                knots=[0, 0, 0, 1, 1, 1], degree=2))
            add(Edge.make_bspline(
                [(2.8624461243, 34.4856639707), (3.3012034738, 34.636897771), (3.7877817878, 34.636897771)],
                knots=[0, 0, 0, 1, 1, 1], degree=2))
            add(Edge.make_bspline(
                [(3.7877817878, 34.636897771), (4.5828053229, 34.636897771), (5.0239537206, 34.2728606786)],
                knots=[0, 0, 0, 1, 1, 1], degree=2))
        make_face(mode=Mode.SUBTRACT)
        with BuildLine():
            add(Edge.make_bspline(
                [(7.3062092523, 32.3474690946), (7.7354024088, 32.4335468307), (8.1622045171, 32.4335468307)],
                knots=[0, 0, 0, 1, 1, 1], degree=2))
            add(Edge.make_bspline(
                [(8.1622045171, 32.4335468307), (9.0253729267, 32.4335468307), (9.5203199095, 32.0055491983)],
                knots=[0, 0, 0, 1, 1, 1], degree=2))
            add(Edge.make_bspline(
                [(9.5203199095, 32.0055491983), (10.0152668923, 31.5775515659), (10.0152668923, 30.8339355676)],
                knots=[0, 0, 0, 1, 1, 1], degree=2))
            add(Edge.make_bspline(
                [(10.0152668923, 30.8339355676), (10.0152668923, 29.9863089715), (9.4754877552, 29.5039149919)],
                knots=[0, 0, 0, 1, 1, 1], degree=2))
            add(Edge.make_bspline(
                [(9.4754877552, 29.5039149919), (8.9357086182, 29.0215210123), (7.9864624725, 29.0215210123)],
                knots=[0, 0, 0, 1, 1, 1], degree=2))
            add(Edge.make_bspline(
                [(7.9864624725, 29.0215210123), (7.0635178573, 29.0215210123), (6.5781350675, 29.3168154682)],
                knots=[0, 0, 0, 1, 1, 1], degree=2))
            Line((6.5781350675, 29.3168154682), (6.5781350675, 29.9145775247))
            add(Edge.make_bspline(
                [(6.5781350675, 29.9145775247), (6.8387593241, 29.7472041489), (7.2273046608, 29.6515622199)],
                knots=[0, 0, 0, 1, 1, 1], degree=2))
            add(Edge.make_bspline(
                [(7.2273046608, 29.6515622199), (7.6158499975, 29.5559202908), (7.9936356172, 29.5559202908)],
                knots=[0, 0, 0, 1, 1, 1], degree=2))
            add(Edge.make_bspline(
                [(7.9936356172, 29.5559202908), (8.6511738794, 29.5559202908), (9.0152109718, 29.8661587981)],
                knots=[0, 0, 0, 1, 1, 1], degree=2))
            add(Edge.make_bspline(
                [(9.0152109718, 29.8661587981), (9.3792480642, 30.1763973055), (9.3792480642, 30.7633996449)],
                knots=[0, 0, 0, 1, 1, 1], degree=2))
            add(Edge.make_bspline(
                [(9.3792480642, 30.7633996449), (9.3792480642, 31.9063206969), (7.9792893279, 31.9063206969)],
                knots=[0, 0, 0, 1, 1, 1], degree=2))
            add(Edge.make_bspline(
                [(7.9792893279, 31.9063206969), (7.6242186663, 31.9063206969), (7.0300431822, 31.7975280026)],
                knots=[0, 0, 0, 1, 1, 1], degree=2))
            Line((7.0300431822, 31.7975280026), (6.7084471958, 32.0031581501))
            Line((6.7084471958, 32.0031581501), (6.9140773432, 34.5591887036))
            Line((6.9140773432, 34.5591887036), (9.6303081279, 34.5591887036))
            Line((9.6303081279, 34.5591887036), (9.6303081279, 33.9877281776))
            Line((9.6303081279, 33.9877281776), (7.4448900494, 33.9877281776))
            Line((7.4448900494, 33.9877281776), (7.3062092523, 32.3474690946))
        make_face(mode=Mode.SUBTRACT)
    extrude(amount=F1_DEPTH)

    # F2 (on face) → F3 (join)
    with BuildSketch(Plane.XY.offset(6.35)):
        with Locations((9.8408134654, 17.0680824667)):
            Circle(F2_R)
    extrude(amount=F3_DEPTH)


solid = f1.part
